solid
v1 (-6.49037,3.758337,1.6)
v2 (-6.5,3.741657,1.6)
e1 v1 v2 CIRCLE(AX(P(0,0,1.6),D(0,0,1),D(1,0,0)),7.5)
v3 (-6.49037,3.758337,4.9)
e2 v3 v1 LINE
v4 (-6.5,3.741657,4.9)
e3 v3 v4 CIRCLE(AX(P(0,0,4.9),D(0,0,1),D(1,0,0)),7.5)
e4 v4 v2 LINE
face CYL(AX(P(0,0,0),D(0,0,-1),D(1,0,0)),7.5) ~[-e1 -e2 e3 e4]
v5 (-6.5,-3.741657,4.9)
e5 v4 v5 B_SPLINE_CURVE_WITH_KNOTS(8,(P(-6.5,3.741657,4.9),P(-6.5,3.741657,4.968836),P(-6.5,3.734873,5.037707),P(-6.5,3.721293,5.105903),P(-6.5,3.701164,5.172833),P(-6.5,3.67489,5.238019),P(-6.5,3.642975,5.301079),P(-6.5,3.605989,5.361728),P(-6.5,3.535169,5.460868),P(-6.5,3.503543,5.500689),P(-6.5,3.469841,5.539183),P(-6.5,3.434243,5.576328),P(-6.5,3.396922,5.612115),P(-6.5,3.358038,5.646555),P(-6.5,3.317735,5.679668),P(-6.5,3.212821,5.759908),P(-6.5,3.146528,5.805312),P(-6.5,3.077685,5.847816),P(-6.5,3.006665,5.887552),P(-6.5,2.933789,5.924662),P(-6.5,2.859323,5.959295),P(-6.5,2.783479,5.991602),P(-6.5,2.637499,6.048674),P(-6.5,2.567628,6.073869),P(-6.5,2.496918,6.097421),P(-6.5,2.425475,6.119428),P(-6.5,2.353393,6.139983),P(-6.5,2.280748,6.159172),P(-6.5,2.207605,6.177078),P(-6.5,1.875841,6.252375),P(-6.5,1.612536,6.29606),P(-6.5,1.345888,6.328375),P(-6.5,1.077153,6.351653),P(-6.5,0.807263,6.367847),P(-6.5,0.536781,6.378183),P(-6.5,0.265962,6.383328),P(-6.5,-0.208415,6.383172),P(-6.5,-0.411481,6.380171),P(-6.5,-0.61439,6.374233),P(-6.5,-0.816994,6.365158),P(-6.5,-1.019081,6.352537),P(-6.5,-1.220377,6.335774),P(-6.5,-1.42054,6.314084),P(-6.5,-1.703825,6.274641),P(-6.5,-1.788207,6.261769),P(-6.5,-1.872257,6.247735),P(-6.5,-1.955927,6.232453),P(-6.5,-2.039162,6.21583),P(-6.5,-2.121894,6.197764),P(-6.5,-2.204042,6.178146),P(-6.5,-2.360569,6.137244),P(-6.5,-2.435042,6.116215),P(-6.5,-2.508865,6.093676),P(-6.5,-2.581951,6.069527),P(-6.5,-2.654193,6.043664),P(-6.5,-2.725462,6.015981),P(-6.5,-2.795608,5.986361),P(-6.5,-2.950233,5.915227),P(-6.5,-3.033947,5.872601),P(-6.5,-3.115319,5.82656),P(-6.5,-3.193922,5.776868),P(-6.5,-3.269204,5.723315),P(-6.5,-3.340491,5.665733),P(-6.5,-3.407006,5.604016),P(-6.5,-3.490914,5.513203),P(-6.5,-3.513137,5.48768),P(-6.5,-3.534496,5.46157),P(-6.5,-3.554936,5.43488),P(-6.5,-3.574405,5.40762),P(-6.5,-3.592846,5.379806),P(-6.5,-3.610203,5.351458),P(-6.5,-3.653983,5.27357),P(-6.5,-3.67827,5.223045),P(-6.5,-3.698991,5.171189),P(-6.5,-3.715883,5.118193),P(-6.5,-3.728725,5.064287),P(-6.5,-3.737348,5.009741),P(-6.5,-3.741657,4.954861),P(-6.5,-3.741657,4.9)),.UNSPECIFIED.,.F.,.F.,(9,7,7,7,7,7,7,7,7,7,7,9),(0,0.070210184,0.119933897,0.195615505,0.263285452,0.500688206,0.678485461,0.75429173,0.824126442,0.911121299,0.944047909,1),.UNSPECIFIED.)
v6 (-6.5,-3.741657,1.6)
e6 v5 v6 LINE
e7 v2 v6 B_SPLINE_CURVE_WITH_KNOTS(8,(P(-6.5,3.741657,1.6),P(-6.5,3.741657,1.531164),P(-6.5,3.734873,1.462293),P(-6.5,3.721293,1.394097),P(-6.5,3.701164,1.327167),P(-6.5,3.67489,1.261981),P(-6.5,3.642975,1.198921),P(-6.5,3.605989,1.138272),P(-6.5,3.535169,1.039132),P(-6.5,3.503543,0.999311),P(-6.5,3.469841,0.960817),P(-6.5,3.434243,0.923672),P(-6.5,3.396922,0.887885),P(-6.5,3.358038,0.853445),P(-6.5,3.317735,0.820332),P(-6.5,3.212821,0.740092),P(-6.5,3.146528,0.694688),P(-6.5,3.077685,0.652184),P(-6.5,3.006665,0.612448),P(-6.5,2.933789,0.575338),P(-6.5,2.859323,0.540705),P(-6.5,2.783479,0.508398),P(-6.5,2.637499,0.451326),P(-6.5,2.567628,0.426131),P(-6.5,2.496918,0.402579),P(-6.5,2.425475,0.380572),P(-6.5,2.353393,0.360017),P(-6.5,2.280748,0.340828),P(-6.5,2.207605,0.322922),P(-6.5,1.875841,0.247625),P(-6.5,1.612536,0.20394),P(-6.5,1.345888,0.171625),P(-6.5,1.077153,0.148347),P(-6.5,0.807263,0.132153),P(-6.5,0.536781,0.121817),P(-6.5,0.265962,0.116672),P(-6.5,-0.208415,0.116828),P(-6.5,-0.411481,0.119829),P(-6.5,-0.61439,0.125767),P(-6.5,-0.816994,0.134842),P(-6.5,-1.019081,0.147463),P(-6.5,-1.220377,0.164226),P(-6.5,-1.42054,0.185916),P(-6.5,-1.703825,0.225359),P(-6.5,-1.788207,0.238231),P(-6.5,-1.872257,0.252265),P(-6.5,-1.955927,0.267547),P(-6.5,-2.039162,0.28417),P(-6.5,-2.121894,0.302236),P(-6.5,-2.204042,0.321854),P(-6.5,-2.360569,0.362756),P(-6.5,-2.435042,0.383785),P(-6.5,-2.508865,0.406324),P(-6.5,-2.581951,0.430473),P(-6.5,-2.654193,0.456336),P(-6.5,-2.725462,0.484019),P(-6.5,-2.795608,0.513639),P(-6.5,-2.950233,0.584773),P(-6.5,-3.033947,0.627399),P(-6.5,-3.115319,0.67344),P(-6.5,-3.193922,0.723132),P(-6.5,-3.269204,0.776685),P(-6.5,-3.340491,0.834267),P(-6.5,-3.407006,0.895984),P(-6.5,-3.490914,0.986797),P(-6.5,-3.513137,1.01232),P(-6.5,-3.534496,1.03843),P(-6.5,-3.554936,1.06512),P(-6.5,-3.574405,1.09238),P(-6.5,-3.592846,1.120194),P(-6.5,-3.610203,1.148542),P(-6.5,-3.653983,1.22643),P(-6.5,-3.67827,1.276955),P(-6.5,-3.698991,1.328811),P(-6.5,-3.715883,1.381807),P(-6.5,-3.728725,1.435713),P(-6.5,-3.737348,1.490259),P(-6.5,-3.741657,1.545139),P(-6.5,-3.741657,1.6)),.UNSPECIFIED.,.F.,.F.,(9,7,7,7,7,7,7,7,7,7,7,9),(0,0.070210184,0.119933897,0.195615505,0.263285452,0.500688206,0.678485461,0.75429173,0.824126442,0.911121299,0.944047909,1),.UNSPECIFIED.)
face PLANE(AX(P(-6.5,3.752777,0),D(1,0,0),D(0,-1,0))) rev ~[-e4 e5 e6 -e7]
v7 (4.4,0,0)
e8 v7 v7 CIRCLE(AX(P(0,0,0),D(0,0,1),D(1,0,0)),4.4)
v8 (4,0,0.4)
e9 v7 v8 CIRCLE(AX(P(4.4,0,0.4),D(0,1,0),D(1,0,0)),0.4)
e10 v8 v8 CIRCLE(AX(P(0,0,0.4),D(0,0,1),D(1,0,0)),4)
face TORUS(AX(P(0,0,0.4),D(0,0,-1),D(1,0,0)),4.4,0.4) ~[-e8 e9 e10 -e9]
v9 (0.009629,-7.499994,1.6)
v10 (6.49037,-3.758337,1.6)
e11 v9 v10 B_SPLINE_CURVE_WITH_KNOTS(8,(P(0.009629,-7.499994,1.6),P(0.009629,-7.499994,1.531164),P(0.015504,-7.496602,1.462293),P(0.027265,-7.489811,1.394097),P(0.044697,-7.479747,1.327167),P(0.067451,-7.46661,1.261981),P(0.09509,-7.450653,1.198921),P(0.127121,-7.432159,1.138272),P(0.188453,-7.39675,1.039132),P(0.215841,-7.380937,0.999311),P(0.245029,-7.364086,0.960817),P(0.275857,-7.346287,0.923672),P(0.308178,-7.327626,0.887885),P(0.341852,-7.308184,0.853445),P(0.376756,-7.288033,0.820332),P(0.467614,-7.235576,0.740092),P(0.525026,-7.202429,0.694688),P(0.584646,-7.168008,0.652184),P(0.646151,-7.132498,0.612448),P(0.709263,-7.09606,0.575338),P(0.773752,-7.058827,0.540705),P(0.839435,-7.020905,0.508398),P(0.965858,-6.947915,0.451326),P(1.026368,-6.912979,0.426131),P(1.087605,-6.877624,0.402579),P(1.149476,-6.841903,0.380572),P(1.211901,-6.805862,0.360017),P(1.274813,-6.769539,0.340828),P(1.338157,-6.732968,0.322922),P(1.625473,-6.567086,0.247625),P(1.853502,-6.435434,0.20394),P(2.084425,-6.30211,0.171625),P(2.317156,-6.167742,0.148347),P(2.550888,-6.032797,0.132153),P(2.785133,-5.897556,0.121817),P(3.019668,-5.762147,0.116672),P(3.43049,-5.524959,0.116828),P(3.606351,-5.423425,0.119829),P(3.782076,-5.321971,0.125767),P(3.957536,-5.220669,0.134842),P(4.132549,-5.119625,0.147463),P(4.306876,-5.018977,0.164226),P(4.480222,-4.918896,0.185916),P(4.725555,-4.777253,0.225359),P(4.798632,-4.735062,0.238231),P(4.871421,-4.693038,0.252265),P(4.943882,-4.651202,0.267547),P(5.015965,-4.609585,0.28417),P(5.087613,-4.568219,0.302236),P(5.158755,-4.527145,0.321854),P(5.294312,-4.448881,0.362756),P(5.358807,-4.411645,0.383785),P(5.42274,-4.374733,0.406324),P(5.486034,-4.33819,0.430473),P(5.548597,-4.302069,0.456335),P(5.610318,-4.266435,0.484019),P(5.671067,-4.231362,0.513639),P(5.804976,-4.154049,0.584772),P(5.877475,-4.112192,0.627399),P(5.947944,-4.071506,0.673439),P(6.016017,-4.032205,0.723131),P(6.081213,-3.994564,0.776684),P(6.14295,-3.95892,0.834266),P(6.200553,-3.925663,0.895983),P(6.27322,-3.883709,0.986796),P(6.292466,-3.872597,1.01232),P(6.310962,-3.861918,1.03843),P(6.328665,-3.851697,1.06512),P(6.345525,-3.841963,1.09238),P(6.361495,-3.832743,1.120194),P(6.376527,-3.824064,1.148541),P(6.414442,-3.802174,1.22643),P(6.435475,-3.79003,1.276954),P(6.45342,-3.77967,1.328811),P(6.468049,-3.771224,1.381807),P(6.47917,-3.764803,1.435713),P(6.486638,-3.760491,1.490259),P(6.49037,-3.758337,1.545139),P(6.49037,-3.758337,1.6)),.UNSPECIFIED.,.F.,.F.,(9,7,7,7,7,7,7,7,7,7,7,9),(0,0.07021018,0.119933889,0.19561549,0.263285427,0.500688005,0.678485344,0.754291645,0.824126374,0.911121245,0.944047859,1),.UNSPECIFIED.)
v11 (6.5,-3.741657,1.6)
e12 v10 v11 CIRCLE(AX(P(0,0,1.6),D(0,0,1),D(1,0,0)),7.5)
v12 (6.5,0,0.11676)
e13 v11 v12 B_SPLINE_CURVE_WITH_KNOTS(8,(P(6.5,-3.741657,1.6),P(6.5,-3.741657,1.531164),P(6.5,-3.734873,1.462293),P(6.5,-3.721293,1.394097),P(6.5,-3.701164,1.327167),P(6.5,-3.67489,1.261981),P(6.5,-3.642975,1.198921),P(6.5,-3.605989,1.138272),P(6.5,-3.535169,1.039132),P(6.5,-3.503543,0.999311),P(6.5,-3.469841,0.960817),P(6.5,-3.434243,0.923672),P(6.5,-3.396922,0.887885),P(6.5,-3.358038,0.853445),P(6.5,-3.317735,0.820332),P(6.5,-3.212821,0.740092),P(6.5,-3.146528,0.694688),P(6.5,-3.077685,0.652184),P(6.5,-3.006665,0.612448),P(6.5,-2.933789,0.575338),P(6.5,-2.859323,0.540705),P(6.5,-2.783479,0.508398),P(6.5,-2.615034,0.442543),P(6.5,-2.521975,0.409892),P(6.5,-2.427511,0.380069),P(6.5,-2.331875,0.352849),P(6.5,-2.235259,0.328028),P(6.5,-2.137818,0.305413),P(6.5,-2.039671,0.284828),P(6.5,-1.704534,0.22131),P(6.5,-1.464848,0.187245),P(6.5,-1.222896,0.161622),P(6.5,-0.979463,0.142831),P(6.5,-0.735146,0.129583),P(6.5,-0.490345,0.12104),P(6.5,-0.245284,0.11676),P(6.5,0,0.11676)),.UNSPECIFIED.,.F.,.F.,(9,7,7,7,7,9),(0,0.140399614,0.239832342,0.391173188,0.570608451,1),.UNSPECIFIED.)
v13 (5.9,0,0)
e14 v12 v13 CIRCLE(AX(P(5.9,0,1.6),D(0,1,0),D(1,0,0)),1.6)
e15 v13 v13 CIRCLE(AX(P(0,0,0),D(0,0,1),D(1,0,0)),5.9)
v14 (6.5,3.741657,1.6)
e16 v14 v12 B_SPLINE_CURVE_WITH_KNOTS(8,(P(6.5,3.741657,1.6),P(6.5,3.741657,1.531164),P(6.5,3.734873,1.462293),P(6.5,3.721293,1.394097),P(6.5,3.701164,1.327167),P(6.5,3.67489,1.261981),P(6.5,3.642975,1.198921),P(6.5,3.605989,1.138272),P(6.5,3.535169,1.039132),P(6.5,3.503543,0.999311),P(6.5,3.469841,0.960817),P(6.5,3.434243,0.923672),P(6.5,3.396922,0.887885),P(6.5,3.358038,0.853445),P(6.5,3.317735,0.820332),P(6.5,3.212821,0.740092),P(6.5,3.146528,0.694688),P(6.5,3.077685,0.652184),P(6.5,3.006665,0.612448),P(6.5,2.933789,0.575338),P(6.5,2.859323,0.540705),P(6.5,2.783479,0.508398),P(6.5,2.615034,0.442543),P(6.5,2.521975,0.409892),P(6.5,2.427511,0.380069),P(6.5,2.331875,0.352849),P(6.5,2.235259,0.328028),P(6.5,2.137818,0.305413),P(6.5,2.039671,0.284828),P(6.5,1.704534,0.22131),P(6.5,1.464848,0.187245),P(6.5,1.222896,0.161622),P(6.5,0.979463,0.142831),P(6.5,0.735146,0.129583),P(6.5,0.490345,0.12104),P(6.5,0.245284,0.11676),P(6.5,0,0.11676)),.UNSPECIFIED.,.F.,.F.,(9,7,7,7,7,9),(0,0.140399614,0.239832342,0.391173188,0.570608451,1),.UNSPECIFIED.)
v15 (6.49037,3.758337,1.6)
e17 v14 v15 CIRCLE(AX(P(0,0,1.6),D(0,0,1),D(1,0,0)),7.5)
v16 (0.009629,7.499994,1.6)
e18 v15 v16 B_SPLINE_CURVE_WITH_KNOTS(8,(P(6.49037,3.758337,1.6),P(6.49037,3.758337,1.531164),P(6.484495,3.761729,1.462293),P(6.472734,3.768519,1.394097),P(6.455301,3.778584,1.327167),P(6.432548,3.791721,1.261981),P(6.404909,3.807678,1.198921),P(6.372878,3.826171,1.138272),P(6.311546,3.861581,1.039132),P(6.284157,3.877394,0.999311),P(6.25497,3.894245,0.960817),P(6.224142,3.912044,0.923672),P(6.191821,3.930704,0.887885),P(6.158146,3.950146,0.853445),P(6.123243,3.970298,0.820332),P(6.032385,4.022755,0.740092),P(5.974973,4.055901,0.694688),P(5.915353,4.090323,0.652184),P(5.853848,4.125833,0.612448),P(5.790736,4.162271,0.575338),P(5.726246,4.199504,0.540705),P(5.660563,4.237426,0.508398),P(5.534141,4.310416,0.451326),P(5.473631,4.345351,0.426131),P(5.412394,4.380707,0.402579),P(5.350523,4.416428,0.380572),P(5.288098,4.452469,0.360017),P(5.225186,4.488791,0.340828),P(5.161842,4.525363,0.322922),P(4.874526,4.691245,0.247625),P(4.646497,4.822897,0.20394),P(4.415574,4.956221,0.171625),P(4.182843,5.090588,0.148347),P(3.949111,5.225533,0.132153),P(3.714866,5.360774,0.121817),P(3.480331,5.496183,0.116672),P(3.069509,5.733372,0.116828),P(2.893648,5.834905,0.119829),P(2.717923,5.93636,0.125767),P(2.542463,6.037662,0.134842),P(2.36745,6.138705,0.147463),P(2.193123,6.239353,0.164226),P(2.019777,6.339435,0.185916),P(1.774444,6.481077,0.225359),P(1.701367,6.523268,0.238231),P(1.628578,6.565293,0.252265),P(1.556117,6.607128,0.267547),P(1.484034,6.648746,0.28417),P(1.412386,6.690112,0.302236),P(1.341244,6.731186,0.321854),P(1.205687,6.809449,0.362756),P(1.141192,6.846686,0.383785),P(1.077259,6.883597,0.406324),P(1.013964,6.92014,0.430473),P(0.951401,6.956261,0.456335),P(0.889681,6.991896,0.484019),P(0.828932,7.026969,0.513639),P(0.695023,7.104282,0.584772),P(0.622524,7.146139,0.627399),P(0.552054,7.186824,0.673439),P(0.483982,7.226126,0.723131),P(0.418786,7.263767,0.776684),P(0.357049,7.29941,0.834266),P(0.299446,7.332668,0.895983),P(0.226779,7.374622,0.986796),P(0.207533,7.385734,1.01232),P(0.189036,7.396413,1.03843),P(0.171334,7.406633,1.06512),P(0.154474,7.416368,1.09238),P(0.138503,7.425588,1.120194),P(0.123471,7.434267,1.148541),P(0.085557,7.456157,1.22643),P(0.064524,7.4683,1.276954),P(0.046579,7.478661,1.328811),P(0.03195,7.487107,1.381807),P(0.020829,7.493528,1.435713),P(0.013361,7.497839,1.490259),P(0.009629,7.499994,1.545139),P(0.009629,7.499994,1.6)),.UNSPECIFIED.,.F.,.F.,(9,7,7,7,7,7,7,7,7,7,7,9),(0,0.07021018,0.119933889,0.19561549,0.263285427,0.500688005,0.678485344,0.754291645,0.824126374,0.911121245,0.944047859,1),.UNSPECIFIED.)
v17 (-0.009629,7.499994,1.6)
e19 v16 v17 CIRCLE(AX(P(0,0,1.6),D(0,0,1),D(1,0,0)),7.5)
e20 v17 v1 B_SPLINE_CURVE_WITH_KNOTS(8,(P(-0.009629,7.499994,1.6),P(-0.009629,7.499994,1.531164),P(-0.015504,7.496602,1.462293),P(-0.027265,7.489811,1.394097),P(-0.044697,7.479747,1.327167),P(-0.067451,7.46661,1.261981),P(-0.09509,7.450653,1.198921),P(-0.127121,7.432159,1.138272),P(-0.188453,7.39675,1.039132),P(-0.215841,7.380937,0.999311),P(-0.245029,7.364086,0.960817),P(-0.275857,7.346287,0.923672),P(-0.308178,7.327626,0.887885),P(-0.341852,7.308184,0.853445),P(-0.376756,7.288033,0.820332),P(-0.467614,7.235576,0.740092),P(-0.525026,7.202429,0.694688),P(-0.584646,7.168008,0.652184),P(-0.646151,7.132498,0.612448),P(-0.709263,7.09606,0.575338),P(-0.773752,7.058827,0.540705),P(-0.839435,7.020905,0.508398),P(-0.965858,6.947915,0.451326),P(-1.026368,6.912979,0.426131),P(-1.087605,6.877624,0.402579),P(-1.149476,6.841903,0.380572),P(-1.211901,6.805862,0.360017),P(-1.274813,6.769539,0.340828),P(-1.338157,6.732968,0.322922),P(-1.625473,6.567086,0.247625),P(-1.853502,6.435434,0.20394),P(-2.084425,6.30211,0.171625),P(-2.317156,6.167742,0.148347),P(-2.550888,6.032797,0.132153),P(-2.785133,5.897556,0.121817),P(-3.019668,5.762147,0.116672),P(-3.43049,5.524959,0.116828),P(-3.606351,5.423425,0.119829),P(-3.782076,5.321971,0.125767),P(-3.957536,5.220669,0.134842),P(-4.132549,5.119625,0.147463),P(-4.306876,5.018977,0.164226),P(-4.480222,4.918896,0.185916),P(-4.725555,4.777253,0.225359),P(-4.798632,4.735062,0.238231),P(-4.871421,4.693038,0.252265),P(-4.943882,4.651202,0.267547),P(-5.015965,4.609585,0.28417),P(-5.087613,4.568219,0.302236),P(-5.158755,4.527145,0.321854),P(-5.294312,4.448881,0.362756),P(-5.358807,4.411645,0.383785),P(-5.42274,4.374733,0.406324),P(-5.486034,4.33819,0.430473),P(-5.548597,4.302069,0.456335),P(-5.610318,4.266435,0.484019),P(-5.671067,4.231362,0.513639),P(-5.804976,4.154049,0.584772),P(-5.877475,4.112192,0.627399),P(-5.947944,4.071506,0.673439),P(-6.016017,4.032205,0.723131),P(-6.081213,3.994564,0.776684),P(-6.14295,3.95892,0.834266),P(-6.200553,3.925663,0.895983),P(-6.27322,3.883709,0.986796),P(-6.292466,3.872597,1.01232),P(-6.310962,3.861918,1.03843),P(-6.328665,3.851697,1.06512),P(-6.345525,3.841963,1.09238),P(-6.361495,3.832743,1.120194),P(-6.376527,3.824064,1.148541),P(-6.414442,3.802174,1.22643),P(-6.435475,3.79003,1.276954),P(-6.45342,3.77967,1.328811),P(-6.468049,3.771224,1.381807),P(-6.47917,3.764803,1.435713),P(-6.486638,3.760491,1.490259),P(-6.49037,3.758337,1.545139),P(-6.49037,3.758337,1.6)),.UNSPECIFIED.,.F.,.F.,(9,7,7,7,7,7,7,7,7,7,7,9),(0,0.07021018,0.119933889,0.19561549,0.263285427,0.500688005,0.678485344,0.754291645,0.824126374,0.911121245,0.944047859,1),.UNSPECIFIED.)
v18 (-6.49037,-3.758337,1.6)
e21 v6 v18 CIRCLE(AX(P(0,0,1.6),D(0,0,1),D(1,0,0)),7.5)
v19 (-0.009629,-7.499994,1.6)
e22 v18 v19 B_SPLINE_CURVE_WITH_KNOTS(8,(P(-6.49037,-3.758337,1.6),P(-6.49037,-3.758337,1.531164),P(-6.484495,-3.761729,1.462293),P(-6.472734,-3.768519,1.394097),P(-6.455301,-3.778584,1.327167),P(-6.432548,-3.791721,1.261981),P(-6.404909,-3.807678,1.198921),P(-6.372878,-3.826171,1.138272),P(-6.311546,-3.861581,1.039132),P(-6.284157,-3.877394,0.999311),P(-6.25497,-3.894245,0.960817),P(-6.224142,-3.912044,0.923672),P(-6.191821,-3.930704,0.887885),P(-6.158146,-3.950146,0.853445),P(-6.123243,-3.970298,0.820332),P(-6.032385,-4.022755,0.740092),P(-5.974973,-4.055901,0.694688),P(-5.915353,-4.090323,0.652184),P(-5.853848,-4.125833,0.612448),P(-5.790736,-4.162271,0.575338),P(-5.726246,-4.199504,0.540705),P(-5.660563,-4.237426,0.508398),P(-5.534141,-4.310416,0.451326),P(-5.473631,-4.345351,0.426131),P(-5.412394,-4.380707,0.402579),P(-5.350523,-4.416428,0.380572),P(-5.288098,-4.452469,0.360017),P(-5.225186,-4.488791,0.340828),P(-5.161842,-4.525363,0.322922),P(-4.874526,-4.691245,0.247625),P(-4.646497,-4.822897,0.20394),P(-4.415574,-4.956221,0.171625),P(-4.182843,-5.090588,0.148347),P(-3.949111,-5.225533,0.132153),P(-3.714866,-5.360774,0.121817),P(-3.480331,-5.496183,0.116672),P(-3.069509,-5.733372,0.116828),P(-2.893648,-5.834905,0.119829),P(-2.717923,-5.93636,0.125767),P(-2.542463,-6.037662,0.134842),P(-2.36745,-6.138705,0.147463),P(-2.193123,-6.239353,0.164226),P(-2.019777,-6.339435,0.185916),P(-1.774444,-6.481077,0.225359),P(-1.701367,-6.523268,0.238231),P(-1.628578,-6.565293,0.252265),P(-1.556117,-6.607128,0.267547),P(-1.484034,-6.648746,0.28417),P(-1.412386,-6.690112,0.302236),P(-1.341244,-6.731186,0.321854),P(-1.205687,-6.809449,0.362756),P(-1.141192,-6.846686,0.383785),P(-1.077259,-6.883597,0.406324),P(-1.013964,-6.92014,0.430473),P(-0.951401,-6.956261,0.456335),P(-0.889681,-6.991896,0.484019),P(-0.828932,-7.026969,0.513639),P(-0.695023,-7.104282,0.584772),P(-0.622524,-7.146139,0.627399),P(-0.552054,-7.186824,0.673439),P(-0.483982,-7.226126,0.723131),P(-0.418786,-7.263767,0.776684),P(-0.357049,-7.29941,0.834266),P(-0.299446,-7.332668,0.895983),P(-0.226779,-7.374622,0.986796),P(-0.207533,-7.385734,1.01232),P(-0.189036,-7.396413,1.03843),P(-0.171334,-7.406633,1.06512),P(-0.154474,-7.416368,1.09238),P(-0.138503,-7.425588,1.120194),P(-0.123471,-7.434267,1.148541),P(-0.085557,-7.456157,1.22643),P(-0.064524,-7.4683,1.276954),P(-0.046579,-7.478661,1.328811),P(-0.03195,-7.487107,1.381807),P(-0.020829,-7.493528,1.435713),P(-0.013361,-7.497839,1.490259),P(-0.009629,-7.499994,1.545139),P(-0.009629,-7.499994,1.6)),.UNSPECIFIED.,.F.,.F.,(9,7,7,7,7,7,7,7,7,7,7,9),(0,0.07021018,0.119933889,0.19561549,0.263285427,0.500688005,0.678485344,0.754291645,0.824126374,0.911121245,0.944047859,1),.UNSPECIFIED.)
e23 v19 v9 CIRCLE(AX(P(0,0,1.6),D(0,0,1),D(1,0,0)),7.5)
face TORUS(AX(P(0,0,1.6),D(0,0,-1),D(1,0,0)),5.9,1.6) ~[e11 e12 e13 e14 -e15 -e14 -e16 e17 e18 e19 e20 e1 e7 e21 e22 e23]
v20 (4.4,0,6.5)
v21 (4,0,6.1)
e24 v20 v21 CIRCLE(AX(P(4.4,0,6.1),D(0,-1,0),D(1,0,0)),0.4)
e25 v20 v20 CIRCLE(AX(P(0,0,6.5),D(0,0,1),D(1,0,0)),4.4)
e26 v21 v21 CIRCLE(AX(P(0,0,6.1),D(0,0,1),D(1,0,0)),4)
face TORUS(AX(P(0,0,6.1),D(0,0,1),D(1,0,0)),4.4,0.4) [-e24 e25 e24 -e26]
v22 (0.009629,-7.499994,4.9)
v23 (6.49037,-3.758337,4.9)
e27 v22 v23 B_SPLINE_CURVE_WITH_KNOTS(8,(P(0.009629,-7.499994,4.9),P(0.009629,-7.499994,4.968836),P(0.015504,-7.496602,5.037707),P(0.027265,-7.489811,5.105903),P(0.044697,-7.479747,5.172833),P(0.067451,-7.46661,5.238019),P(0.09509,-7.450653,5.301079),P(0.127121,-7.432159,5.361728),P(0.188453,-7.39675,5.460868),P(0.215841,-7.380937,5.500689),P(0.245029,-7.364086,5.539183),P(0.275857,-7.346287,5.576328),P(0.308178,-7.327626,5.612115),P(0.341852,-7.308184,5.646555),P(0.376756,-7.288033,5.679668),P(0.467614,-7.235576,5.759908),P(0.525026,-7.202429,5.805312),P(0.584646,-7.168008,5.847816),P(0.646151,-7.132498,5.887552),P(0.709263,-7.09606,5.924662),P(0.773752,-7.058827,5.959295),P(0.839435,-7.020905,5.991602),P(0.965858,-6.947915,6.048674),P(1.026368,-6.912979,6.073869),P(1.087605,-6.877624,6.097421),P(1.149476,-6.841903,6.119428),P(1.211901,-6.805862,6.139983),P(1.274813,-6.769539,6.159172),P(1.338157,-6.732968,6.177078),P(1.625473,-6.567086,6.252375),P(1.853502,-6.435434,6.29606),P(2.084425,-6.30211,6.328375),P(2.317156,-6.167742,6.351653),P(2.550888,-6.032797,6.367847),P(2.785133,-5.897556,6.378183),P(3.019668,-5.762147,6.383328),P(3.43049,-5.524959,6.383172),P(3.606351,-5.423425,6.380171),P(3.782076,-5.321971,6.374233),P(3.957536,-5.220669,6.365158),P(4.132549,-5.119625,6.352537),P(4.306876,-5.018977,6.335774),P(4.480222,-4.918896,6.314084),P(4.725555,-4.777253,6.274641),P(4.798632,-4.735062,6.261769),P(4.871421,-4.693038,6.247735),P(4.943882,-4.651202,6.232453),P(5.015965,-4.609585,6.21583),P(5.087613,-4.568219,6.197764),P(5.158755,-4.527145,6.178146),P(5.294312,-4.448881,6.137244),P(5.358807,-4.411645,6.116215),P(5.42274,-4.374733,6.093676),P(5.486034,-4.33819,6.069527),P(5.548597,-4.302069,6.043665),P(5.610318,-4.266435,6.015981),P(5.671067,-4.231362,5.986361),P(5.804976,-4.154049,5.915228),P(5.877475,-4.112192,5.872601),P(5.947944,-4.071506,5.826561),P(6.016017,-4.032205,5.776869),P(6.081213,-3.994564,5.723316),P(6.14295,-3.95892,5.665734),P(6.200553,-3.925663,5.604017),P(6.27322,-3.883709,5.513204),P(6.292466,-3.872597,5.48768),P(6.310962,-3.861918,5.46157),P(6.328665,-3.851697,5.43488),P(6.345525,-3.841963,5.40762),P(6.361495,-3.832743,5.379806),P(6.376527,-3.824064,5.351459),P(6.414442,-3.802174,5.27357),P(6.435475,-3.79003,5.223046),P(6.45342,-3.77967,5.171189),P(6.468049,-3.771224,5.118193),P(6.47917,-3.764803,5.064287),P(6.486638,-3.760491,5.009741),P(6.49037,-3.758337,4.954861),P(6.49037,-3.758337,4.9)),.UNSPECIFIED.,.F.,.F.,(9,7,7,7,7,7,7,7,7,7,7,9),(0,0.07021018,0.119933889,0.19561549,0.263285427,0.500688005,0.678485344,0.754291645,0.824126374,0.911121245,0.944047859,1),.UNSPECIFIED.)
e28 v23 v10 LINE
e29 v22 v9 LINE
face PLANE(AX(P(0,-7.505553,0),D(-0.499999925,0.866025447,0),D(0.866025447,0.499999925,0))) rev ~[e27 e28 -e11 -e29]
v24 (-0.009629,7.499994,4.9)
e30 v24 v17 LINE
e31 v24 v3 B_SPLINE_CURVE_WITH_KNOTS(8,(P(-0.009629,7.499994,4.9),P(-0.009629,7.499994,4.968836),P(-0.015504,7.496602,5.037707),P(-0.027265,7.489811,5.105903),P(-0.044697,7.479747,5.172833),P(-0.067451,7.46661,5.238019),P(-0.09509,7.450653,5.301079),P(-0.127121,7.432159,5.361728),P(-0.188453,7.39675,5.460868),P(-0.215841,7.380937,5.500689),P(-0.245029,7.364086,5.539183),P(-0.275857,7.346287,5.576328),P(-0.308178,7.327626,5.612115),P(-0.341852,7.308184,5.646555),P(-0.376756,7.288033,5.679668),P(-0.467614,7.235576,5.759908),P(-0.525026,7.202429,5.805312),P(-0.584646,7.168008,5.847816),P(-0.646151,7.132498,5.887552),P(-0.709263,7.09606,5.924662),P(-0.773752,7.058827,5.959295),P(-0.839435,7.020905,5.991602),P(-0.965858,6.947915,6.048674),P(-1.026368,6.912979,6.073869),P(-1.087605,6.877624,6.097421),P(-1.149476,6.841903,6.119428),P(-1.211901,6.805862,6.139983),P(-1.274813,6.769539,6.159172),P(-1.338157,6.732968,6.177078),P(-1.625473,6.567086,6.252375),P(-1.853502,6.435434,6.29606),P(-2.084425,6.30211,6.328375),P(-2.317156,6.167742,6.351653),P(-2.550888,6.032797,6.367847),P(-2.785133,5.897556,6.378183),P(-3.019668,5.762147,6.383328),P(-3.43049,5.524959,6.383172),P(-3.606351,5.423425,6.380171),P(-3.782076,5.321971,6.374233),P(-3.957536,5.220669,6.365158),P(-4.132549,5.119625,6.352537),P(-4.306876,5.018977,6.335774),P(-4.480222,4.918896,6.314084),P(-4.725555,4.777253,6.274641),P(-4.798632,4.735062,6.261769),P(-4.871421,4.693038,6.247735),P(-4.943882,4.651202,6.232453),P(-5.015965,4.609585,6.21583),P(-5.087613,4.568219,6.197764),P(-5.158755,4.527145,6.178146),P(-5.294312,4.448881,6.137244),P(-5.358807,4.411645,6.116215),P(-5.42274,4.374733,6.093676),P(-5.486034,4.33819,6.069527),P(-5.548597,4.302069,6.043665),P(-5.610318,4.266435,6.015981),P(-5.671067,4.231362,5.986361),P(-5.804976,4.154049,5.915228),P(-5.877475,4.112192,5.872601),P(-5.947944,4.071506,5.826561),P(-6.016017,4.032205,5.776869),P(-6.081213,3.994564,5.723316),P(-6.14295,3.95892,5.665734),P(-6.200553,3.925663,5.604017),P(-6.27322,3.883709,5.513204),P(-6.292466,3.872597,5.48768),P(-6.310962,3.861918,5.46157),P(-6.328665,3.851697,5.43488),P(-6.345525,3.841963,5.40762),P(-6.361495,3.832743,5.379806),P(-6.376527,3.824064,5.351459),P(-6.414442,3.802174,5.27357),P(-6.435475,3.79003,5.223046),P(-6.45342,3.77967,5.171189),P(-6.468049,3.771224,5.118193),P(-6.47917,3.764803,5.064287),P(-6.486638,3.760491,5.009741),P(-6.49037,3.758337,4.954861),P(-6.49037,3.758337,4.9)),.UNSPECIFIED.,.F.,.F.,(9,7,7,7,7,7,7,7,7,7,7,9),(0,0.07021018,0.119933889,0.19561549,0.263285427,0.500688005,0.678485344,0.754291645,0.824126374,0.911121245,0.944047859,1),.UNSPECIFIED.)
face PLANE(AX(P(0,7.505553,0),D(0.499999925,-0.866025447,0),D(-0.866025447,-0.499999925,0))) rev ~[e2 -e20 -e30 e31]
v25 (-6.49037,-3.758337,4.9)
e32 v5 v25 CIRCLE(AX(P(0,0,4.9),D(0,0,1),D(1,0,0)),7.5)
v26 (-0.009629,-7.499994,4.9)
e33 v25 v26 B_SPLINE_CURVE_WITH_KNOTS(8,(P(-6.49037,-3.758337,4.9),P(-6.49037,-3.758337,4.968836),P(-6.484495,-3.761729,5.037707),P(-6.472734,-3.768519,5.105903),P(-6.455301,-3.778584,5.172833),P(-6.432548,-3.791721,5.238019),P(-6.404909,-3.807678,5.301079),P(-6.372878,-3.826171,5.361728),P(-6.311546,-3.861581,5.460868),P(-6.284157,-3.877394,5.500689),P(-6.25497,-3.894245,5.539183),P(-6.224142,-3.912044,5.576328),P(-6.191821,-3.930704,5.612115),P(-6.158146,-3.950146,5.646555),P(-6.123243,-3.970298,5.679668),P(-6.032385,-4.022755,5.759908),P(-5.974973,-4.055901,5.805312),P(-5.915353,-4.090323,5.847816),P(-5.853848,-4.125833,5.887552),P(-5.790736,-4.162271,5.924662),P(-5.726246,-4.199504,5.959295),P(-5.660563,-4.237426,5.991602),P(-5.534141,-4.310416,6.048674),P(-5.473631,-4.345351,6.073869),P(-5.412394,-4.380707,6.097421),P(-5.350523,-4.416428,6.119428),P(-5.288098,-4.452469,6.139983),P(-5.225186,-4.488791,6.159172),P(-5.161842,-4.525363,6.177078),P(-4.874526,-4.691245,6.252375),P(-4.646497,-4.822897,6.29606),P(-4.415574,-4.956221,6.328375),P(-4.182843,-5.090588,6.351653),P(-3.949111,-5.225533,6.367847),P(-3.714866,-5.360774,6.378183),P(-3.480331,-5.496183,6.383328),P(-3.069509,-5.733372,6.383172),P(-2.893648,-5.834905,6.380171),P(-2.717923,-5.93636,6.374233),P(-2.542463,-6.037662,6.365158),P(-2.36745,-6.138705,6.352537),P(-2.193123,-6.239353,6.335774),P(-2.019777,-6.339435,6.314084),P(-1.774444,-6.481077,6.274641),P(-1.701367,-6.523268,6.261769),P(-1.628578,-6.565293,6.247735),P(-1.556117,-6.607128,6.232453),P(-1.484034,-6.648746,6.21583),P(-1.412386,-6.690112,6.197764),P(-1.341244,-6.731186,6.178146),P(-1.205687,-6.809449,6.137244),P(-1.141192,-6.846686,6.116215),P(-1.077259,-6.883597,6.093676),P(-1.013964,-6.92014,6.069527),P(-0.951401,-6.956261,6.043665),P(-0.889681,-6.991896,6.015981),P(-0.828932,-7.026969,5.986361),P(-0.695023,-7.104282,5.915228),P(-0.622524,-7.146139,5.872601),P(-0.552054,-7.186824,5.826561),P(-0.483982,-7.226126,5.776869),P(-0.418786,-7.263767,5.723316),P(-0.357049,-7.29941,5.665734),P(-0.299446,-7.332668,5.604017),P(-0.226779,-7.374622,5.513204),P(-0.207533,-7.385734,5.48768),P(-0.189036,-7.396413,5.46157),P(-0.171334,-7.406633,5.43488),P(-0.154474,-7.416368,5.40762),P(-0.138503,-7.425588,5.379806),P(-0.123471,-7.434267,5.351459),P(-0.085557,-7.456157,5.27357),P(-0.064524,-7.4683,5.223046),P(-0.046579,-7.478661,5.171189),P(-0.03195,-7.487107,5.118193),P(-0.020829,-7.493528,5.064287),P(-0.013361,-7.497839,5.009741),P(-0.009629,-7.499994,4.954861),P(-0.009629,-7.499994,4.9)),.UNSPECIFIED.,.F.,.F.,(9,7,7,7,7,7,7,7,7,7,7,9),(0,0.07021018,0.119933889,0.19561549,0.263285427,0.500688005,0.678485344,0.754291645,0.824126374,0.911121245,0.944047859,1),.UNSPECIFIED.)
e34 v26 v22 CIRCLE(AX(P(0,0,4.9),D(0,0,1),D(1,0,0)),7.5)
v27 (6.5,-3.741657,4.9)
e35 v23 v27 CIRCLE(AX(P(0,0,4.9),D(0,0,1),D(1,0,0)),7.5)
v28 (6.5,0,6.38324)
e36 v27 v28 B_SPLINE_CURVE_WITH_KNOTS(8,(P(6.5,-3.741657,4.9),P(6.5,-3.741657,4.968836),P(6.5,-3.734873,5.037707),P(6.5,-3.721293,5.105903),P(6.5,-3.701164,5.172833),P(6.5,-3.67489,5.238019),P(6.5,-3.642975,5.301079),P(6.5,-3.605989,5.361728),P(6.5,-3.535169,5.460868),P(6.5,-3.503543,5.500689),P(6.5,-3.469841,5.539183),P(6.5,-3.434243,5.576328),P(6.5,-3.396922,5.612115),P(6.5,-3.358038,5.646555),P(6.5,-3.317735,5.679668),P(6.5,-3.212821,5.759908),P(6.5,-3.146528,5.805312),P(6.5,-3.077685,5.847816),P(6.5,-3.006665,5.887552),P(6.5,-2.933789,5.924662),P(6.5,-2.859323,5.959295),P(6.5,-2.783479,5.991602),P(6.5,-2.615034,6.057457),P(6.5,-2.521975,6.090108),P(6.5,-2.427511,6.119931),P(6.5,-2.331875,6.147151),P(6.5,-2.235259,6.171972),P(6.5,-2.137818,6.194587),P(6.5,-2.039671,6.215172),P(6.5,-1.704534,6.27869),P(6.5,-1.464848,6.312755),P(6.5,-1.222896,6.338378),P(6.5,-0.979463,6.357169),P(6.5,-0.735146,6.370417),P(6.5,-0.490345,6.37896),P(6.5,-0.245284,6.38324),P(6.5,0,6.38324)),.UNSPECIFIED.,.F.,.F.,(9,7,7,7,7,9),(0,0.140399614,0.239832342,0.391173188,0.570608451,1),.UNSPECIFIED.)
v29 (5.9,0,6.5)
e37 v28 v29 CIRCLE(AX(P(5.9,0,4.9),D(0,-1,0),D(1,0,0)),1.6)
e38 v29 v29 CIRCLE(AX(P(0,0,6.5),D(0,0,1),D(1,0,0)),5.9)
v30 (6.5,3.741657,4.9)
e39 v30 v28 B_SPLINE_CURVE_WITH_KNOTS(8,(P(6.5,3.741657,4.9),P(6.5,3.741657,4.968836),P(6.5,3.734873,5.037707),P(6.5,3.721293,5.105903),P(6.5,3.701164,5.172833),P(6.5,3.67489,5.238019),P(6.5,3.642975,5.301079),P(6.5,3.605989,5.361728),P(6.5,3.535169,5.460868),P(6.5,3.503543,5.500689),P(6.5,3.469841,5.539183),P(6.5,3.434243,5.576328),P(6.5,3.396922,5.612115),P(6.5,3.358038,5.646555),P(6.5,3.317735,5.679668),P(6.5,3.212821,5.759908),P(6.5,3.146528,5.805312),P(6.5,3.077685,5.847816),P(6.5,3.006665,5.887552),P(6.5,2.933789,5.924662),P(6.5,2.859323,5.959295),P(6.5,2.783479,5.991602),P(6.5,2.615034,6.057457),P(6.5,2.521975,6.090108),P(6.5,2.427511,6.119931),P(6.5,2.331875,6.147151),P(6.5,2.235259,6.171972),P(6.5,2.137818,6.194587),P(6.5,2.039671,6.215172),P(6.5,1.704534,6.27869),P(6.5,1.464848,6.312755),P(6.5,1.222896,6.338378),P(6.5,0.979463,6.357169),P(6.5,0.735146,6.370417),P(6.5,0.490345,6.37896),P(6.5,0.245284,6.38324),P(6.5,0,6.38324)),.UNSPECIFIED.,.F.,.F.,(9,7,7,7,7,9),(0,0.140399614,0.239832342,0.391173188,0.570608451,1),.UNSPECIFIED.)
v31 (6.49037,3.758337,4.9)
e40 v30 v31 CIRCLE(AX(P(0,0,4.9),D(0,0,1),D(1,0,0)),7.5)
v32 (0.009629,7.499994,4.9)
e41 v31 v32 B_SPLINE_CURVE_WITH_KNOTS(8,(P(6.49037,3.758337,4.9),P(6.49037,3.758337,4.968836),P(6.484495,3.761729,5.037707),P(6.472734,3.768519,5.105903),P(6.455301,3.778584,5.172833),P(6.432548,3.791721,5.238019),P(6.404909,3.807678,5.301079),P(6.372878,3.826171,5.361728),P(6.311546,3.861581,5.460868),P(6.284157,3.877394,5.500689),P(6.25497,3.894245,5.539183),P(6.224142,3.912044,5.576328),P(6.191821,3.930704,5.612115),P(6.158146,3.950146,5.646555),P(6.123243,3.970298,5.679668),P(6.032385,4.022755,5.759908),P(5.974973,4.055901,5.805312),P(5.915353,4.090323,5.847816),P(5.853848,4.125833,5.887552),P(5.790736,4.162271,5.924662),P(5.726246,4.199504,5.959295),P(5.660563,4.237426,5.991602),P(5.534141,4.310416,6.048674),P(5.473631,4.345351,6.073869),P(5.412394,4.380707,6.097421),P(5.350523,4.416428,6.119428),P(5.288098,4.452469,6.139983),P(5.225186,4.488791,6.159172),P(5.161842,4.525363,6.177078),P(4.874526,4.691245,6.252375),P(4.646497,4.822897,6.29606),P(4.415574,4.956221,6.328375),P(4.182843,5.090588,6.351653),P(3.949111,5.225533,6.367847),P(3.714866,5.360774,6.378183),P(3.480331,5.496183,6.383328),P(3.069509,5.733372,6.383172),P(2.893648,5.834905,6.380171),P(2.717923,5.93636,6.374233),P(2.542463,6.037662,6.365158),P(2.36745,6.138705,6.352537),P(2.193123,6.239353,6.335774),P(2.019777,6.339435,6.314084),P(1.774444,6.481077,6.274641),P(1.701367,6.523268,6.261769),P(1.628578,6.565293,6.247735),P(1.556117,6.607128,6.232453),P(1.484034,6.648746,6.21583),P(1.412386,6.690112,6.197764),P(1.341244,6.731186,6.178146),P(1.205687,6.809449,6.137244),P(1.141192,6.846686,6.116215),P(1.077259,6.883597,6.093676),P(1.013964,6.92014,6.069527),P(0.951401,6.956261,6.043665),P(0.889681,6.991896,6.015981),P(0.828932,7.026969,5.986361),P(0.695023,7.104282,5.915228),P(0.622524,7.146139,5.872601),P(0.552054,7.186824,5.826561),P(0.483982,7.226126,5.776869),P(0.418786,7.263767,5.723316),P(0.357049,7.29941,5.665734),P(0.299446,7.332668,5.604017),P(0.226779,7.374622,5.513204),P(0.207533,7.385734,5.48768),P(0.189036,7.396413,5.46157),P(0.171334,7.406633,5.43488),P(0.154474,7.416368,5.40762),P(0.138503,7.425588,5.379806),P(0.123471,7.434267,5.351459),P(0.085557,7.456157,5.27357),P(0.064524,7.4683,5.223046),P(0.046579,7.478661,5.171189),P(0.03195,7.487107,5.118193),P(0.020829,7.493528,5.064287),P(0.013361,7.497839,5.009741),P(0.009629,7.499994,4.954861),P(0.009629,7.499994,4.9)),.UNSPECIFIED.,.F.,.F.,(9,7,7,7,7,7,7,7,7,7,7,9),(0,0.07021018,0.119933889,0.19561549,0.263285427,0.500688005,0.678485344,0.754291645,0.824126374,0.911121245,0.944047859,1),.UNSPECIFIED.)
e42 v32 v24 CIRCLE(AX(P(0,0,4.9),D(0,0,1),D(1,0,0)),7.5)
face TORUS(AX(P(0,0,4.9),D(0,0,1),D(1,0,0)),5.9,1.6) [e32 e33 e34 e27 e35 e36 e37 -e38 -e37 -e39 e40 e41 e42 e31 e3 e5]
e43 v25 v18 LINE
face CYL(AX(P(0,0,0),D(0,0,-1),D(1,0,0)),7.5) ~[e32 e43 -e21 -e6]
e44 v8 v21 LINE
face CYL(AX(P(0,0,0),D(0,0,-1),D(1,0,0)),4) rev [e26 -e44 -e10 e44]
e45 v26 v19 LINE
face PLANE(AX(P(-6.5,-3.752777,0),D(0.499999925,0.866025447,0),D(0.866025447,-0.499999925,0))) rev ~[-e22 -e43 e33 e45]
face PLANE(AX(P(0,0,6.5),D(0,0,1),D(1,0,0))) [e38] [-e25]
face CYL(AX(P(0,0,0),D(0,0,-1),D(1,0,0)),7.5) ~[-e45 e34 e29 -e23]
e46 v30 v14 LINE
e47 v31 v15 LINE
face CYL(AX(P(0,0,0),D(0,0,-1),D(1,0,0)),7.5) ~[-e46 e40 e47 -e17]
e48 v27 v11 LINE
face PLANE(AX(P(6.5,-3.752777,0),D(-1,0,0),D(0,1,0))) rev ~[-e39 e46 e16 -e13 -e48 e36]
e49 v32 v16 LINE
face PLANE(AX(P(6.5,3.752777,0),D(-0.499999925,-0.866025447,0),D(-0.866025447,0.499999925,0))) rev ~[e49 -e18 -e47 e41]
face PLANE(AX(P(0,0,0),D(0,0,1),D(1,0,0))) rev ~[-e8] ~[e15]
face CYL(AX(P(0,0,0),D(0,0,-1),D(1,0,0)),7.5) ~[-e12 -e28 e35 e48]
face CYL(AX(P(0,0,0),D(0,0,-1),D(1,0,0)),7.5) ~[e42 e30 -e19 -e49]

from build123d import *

# Parameters (mm, degrees)
TUBE_R          = 7.5
TUBE_R_2        = 4
TUBE_DEPTH      = 6.5
FILLET004_1_R   = 1.6
FILLET004_2_R   = 0.4
SKETCH014_R     = 12.203108
POCKET005_DEPTH = 6.501


with BuildPart() as part:
    # Tube → Tube (new body)
    with BuildSketch(Plane.XY):
        Circle(TUBE_R)
        Circle(TUBE_R_2, mode=Mode.SUBTRACT)
    extrude(amount=TUBE_DEPTH)

    # Fillet004 1
    fillet004_1_edges = [part.edges().sort_by_distance(p)[0] for p in [
        (-7.5, 0, 6.5),
        (-7.5, 0, 0),
    ]]
    fillet(fillet004_1_edges, radius=FILLET004_1_R)

    # Fillet004 2
    fillet004_2_edges = [part.edges().sort_by_distance(p)[0] for p in [
        (-4, 0, 6.5),
        (-4, 0, 0),
    ]]
    fillet(fillet004_2_edges, radius=FILLET004_2_R)

    # Sketch014 → Pocket005 (cut, through all)
    with BuildSketch(Plane.XY):
        Circle(SKETCH014_R)
        Polygon((6.5, -3.752777), (6.5, 3.752777), (0, 7.505553), (-6.5, 3.752777), (-6.5, -3.752777), (0, -7.505553), align=None, mode=Mode.SUBTRACT)
    extrude(amount=POCKET005_DEPTH, mode=Mode.SUBTRACT)


solid = part.part
